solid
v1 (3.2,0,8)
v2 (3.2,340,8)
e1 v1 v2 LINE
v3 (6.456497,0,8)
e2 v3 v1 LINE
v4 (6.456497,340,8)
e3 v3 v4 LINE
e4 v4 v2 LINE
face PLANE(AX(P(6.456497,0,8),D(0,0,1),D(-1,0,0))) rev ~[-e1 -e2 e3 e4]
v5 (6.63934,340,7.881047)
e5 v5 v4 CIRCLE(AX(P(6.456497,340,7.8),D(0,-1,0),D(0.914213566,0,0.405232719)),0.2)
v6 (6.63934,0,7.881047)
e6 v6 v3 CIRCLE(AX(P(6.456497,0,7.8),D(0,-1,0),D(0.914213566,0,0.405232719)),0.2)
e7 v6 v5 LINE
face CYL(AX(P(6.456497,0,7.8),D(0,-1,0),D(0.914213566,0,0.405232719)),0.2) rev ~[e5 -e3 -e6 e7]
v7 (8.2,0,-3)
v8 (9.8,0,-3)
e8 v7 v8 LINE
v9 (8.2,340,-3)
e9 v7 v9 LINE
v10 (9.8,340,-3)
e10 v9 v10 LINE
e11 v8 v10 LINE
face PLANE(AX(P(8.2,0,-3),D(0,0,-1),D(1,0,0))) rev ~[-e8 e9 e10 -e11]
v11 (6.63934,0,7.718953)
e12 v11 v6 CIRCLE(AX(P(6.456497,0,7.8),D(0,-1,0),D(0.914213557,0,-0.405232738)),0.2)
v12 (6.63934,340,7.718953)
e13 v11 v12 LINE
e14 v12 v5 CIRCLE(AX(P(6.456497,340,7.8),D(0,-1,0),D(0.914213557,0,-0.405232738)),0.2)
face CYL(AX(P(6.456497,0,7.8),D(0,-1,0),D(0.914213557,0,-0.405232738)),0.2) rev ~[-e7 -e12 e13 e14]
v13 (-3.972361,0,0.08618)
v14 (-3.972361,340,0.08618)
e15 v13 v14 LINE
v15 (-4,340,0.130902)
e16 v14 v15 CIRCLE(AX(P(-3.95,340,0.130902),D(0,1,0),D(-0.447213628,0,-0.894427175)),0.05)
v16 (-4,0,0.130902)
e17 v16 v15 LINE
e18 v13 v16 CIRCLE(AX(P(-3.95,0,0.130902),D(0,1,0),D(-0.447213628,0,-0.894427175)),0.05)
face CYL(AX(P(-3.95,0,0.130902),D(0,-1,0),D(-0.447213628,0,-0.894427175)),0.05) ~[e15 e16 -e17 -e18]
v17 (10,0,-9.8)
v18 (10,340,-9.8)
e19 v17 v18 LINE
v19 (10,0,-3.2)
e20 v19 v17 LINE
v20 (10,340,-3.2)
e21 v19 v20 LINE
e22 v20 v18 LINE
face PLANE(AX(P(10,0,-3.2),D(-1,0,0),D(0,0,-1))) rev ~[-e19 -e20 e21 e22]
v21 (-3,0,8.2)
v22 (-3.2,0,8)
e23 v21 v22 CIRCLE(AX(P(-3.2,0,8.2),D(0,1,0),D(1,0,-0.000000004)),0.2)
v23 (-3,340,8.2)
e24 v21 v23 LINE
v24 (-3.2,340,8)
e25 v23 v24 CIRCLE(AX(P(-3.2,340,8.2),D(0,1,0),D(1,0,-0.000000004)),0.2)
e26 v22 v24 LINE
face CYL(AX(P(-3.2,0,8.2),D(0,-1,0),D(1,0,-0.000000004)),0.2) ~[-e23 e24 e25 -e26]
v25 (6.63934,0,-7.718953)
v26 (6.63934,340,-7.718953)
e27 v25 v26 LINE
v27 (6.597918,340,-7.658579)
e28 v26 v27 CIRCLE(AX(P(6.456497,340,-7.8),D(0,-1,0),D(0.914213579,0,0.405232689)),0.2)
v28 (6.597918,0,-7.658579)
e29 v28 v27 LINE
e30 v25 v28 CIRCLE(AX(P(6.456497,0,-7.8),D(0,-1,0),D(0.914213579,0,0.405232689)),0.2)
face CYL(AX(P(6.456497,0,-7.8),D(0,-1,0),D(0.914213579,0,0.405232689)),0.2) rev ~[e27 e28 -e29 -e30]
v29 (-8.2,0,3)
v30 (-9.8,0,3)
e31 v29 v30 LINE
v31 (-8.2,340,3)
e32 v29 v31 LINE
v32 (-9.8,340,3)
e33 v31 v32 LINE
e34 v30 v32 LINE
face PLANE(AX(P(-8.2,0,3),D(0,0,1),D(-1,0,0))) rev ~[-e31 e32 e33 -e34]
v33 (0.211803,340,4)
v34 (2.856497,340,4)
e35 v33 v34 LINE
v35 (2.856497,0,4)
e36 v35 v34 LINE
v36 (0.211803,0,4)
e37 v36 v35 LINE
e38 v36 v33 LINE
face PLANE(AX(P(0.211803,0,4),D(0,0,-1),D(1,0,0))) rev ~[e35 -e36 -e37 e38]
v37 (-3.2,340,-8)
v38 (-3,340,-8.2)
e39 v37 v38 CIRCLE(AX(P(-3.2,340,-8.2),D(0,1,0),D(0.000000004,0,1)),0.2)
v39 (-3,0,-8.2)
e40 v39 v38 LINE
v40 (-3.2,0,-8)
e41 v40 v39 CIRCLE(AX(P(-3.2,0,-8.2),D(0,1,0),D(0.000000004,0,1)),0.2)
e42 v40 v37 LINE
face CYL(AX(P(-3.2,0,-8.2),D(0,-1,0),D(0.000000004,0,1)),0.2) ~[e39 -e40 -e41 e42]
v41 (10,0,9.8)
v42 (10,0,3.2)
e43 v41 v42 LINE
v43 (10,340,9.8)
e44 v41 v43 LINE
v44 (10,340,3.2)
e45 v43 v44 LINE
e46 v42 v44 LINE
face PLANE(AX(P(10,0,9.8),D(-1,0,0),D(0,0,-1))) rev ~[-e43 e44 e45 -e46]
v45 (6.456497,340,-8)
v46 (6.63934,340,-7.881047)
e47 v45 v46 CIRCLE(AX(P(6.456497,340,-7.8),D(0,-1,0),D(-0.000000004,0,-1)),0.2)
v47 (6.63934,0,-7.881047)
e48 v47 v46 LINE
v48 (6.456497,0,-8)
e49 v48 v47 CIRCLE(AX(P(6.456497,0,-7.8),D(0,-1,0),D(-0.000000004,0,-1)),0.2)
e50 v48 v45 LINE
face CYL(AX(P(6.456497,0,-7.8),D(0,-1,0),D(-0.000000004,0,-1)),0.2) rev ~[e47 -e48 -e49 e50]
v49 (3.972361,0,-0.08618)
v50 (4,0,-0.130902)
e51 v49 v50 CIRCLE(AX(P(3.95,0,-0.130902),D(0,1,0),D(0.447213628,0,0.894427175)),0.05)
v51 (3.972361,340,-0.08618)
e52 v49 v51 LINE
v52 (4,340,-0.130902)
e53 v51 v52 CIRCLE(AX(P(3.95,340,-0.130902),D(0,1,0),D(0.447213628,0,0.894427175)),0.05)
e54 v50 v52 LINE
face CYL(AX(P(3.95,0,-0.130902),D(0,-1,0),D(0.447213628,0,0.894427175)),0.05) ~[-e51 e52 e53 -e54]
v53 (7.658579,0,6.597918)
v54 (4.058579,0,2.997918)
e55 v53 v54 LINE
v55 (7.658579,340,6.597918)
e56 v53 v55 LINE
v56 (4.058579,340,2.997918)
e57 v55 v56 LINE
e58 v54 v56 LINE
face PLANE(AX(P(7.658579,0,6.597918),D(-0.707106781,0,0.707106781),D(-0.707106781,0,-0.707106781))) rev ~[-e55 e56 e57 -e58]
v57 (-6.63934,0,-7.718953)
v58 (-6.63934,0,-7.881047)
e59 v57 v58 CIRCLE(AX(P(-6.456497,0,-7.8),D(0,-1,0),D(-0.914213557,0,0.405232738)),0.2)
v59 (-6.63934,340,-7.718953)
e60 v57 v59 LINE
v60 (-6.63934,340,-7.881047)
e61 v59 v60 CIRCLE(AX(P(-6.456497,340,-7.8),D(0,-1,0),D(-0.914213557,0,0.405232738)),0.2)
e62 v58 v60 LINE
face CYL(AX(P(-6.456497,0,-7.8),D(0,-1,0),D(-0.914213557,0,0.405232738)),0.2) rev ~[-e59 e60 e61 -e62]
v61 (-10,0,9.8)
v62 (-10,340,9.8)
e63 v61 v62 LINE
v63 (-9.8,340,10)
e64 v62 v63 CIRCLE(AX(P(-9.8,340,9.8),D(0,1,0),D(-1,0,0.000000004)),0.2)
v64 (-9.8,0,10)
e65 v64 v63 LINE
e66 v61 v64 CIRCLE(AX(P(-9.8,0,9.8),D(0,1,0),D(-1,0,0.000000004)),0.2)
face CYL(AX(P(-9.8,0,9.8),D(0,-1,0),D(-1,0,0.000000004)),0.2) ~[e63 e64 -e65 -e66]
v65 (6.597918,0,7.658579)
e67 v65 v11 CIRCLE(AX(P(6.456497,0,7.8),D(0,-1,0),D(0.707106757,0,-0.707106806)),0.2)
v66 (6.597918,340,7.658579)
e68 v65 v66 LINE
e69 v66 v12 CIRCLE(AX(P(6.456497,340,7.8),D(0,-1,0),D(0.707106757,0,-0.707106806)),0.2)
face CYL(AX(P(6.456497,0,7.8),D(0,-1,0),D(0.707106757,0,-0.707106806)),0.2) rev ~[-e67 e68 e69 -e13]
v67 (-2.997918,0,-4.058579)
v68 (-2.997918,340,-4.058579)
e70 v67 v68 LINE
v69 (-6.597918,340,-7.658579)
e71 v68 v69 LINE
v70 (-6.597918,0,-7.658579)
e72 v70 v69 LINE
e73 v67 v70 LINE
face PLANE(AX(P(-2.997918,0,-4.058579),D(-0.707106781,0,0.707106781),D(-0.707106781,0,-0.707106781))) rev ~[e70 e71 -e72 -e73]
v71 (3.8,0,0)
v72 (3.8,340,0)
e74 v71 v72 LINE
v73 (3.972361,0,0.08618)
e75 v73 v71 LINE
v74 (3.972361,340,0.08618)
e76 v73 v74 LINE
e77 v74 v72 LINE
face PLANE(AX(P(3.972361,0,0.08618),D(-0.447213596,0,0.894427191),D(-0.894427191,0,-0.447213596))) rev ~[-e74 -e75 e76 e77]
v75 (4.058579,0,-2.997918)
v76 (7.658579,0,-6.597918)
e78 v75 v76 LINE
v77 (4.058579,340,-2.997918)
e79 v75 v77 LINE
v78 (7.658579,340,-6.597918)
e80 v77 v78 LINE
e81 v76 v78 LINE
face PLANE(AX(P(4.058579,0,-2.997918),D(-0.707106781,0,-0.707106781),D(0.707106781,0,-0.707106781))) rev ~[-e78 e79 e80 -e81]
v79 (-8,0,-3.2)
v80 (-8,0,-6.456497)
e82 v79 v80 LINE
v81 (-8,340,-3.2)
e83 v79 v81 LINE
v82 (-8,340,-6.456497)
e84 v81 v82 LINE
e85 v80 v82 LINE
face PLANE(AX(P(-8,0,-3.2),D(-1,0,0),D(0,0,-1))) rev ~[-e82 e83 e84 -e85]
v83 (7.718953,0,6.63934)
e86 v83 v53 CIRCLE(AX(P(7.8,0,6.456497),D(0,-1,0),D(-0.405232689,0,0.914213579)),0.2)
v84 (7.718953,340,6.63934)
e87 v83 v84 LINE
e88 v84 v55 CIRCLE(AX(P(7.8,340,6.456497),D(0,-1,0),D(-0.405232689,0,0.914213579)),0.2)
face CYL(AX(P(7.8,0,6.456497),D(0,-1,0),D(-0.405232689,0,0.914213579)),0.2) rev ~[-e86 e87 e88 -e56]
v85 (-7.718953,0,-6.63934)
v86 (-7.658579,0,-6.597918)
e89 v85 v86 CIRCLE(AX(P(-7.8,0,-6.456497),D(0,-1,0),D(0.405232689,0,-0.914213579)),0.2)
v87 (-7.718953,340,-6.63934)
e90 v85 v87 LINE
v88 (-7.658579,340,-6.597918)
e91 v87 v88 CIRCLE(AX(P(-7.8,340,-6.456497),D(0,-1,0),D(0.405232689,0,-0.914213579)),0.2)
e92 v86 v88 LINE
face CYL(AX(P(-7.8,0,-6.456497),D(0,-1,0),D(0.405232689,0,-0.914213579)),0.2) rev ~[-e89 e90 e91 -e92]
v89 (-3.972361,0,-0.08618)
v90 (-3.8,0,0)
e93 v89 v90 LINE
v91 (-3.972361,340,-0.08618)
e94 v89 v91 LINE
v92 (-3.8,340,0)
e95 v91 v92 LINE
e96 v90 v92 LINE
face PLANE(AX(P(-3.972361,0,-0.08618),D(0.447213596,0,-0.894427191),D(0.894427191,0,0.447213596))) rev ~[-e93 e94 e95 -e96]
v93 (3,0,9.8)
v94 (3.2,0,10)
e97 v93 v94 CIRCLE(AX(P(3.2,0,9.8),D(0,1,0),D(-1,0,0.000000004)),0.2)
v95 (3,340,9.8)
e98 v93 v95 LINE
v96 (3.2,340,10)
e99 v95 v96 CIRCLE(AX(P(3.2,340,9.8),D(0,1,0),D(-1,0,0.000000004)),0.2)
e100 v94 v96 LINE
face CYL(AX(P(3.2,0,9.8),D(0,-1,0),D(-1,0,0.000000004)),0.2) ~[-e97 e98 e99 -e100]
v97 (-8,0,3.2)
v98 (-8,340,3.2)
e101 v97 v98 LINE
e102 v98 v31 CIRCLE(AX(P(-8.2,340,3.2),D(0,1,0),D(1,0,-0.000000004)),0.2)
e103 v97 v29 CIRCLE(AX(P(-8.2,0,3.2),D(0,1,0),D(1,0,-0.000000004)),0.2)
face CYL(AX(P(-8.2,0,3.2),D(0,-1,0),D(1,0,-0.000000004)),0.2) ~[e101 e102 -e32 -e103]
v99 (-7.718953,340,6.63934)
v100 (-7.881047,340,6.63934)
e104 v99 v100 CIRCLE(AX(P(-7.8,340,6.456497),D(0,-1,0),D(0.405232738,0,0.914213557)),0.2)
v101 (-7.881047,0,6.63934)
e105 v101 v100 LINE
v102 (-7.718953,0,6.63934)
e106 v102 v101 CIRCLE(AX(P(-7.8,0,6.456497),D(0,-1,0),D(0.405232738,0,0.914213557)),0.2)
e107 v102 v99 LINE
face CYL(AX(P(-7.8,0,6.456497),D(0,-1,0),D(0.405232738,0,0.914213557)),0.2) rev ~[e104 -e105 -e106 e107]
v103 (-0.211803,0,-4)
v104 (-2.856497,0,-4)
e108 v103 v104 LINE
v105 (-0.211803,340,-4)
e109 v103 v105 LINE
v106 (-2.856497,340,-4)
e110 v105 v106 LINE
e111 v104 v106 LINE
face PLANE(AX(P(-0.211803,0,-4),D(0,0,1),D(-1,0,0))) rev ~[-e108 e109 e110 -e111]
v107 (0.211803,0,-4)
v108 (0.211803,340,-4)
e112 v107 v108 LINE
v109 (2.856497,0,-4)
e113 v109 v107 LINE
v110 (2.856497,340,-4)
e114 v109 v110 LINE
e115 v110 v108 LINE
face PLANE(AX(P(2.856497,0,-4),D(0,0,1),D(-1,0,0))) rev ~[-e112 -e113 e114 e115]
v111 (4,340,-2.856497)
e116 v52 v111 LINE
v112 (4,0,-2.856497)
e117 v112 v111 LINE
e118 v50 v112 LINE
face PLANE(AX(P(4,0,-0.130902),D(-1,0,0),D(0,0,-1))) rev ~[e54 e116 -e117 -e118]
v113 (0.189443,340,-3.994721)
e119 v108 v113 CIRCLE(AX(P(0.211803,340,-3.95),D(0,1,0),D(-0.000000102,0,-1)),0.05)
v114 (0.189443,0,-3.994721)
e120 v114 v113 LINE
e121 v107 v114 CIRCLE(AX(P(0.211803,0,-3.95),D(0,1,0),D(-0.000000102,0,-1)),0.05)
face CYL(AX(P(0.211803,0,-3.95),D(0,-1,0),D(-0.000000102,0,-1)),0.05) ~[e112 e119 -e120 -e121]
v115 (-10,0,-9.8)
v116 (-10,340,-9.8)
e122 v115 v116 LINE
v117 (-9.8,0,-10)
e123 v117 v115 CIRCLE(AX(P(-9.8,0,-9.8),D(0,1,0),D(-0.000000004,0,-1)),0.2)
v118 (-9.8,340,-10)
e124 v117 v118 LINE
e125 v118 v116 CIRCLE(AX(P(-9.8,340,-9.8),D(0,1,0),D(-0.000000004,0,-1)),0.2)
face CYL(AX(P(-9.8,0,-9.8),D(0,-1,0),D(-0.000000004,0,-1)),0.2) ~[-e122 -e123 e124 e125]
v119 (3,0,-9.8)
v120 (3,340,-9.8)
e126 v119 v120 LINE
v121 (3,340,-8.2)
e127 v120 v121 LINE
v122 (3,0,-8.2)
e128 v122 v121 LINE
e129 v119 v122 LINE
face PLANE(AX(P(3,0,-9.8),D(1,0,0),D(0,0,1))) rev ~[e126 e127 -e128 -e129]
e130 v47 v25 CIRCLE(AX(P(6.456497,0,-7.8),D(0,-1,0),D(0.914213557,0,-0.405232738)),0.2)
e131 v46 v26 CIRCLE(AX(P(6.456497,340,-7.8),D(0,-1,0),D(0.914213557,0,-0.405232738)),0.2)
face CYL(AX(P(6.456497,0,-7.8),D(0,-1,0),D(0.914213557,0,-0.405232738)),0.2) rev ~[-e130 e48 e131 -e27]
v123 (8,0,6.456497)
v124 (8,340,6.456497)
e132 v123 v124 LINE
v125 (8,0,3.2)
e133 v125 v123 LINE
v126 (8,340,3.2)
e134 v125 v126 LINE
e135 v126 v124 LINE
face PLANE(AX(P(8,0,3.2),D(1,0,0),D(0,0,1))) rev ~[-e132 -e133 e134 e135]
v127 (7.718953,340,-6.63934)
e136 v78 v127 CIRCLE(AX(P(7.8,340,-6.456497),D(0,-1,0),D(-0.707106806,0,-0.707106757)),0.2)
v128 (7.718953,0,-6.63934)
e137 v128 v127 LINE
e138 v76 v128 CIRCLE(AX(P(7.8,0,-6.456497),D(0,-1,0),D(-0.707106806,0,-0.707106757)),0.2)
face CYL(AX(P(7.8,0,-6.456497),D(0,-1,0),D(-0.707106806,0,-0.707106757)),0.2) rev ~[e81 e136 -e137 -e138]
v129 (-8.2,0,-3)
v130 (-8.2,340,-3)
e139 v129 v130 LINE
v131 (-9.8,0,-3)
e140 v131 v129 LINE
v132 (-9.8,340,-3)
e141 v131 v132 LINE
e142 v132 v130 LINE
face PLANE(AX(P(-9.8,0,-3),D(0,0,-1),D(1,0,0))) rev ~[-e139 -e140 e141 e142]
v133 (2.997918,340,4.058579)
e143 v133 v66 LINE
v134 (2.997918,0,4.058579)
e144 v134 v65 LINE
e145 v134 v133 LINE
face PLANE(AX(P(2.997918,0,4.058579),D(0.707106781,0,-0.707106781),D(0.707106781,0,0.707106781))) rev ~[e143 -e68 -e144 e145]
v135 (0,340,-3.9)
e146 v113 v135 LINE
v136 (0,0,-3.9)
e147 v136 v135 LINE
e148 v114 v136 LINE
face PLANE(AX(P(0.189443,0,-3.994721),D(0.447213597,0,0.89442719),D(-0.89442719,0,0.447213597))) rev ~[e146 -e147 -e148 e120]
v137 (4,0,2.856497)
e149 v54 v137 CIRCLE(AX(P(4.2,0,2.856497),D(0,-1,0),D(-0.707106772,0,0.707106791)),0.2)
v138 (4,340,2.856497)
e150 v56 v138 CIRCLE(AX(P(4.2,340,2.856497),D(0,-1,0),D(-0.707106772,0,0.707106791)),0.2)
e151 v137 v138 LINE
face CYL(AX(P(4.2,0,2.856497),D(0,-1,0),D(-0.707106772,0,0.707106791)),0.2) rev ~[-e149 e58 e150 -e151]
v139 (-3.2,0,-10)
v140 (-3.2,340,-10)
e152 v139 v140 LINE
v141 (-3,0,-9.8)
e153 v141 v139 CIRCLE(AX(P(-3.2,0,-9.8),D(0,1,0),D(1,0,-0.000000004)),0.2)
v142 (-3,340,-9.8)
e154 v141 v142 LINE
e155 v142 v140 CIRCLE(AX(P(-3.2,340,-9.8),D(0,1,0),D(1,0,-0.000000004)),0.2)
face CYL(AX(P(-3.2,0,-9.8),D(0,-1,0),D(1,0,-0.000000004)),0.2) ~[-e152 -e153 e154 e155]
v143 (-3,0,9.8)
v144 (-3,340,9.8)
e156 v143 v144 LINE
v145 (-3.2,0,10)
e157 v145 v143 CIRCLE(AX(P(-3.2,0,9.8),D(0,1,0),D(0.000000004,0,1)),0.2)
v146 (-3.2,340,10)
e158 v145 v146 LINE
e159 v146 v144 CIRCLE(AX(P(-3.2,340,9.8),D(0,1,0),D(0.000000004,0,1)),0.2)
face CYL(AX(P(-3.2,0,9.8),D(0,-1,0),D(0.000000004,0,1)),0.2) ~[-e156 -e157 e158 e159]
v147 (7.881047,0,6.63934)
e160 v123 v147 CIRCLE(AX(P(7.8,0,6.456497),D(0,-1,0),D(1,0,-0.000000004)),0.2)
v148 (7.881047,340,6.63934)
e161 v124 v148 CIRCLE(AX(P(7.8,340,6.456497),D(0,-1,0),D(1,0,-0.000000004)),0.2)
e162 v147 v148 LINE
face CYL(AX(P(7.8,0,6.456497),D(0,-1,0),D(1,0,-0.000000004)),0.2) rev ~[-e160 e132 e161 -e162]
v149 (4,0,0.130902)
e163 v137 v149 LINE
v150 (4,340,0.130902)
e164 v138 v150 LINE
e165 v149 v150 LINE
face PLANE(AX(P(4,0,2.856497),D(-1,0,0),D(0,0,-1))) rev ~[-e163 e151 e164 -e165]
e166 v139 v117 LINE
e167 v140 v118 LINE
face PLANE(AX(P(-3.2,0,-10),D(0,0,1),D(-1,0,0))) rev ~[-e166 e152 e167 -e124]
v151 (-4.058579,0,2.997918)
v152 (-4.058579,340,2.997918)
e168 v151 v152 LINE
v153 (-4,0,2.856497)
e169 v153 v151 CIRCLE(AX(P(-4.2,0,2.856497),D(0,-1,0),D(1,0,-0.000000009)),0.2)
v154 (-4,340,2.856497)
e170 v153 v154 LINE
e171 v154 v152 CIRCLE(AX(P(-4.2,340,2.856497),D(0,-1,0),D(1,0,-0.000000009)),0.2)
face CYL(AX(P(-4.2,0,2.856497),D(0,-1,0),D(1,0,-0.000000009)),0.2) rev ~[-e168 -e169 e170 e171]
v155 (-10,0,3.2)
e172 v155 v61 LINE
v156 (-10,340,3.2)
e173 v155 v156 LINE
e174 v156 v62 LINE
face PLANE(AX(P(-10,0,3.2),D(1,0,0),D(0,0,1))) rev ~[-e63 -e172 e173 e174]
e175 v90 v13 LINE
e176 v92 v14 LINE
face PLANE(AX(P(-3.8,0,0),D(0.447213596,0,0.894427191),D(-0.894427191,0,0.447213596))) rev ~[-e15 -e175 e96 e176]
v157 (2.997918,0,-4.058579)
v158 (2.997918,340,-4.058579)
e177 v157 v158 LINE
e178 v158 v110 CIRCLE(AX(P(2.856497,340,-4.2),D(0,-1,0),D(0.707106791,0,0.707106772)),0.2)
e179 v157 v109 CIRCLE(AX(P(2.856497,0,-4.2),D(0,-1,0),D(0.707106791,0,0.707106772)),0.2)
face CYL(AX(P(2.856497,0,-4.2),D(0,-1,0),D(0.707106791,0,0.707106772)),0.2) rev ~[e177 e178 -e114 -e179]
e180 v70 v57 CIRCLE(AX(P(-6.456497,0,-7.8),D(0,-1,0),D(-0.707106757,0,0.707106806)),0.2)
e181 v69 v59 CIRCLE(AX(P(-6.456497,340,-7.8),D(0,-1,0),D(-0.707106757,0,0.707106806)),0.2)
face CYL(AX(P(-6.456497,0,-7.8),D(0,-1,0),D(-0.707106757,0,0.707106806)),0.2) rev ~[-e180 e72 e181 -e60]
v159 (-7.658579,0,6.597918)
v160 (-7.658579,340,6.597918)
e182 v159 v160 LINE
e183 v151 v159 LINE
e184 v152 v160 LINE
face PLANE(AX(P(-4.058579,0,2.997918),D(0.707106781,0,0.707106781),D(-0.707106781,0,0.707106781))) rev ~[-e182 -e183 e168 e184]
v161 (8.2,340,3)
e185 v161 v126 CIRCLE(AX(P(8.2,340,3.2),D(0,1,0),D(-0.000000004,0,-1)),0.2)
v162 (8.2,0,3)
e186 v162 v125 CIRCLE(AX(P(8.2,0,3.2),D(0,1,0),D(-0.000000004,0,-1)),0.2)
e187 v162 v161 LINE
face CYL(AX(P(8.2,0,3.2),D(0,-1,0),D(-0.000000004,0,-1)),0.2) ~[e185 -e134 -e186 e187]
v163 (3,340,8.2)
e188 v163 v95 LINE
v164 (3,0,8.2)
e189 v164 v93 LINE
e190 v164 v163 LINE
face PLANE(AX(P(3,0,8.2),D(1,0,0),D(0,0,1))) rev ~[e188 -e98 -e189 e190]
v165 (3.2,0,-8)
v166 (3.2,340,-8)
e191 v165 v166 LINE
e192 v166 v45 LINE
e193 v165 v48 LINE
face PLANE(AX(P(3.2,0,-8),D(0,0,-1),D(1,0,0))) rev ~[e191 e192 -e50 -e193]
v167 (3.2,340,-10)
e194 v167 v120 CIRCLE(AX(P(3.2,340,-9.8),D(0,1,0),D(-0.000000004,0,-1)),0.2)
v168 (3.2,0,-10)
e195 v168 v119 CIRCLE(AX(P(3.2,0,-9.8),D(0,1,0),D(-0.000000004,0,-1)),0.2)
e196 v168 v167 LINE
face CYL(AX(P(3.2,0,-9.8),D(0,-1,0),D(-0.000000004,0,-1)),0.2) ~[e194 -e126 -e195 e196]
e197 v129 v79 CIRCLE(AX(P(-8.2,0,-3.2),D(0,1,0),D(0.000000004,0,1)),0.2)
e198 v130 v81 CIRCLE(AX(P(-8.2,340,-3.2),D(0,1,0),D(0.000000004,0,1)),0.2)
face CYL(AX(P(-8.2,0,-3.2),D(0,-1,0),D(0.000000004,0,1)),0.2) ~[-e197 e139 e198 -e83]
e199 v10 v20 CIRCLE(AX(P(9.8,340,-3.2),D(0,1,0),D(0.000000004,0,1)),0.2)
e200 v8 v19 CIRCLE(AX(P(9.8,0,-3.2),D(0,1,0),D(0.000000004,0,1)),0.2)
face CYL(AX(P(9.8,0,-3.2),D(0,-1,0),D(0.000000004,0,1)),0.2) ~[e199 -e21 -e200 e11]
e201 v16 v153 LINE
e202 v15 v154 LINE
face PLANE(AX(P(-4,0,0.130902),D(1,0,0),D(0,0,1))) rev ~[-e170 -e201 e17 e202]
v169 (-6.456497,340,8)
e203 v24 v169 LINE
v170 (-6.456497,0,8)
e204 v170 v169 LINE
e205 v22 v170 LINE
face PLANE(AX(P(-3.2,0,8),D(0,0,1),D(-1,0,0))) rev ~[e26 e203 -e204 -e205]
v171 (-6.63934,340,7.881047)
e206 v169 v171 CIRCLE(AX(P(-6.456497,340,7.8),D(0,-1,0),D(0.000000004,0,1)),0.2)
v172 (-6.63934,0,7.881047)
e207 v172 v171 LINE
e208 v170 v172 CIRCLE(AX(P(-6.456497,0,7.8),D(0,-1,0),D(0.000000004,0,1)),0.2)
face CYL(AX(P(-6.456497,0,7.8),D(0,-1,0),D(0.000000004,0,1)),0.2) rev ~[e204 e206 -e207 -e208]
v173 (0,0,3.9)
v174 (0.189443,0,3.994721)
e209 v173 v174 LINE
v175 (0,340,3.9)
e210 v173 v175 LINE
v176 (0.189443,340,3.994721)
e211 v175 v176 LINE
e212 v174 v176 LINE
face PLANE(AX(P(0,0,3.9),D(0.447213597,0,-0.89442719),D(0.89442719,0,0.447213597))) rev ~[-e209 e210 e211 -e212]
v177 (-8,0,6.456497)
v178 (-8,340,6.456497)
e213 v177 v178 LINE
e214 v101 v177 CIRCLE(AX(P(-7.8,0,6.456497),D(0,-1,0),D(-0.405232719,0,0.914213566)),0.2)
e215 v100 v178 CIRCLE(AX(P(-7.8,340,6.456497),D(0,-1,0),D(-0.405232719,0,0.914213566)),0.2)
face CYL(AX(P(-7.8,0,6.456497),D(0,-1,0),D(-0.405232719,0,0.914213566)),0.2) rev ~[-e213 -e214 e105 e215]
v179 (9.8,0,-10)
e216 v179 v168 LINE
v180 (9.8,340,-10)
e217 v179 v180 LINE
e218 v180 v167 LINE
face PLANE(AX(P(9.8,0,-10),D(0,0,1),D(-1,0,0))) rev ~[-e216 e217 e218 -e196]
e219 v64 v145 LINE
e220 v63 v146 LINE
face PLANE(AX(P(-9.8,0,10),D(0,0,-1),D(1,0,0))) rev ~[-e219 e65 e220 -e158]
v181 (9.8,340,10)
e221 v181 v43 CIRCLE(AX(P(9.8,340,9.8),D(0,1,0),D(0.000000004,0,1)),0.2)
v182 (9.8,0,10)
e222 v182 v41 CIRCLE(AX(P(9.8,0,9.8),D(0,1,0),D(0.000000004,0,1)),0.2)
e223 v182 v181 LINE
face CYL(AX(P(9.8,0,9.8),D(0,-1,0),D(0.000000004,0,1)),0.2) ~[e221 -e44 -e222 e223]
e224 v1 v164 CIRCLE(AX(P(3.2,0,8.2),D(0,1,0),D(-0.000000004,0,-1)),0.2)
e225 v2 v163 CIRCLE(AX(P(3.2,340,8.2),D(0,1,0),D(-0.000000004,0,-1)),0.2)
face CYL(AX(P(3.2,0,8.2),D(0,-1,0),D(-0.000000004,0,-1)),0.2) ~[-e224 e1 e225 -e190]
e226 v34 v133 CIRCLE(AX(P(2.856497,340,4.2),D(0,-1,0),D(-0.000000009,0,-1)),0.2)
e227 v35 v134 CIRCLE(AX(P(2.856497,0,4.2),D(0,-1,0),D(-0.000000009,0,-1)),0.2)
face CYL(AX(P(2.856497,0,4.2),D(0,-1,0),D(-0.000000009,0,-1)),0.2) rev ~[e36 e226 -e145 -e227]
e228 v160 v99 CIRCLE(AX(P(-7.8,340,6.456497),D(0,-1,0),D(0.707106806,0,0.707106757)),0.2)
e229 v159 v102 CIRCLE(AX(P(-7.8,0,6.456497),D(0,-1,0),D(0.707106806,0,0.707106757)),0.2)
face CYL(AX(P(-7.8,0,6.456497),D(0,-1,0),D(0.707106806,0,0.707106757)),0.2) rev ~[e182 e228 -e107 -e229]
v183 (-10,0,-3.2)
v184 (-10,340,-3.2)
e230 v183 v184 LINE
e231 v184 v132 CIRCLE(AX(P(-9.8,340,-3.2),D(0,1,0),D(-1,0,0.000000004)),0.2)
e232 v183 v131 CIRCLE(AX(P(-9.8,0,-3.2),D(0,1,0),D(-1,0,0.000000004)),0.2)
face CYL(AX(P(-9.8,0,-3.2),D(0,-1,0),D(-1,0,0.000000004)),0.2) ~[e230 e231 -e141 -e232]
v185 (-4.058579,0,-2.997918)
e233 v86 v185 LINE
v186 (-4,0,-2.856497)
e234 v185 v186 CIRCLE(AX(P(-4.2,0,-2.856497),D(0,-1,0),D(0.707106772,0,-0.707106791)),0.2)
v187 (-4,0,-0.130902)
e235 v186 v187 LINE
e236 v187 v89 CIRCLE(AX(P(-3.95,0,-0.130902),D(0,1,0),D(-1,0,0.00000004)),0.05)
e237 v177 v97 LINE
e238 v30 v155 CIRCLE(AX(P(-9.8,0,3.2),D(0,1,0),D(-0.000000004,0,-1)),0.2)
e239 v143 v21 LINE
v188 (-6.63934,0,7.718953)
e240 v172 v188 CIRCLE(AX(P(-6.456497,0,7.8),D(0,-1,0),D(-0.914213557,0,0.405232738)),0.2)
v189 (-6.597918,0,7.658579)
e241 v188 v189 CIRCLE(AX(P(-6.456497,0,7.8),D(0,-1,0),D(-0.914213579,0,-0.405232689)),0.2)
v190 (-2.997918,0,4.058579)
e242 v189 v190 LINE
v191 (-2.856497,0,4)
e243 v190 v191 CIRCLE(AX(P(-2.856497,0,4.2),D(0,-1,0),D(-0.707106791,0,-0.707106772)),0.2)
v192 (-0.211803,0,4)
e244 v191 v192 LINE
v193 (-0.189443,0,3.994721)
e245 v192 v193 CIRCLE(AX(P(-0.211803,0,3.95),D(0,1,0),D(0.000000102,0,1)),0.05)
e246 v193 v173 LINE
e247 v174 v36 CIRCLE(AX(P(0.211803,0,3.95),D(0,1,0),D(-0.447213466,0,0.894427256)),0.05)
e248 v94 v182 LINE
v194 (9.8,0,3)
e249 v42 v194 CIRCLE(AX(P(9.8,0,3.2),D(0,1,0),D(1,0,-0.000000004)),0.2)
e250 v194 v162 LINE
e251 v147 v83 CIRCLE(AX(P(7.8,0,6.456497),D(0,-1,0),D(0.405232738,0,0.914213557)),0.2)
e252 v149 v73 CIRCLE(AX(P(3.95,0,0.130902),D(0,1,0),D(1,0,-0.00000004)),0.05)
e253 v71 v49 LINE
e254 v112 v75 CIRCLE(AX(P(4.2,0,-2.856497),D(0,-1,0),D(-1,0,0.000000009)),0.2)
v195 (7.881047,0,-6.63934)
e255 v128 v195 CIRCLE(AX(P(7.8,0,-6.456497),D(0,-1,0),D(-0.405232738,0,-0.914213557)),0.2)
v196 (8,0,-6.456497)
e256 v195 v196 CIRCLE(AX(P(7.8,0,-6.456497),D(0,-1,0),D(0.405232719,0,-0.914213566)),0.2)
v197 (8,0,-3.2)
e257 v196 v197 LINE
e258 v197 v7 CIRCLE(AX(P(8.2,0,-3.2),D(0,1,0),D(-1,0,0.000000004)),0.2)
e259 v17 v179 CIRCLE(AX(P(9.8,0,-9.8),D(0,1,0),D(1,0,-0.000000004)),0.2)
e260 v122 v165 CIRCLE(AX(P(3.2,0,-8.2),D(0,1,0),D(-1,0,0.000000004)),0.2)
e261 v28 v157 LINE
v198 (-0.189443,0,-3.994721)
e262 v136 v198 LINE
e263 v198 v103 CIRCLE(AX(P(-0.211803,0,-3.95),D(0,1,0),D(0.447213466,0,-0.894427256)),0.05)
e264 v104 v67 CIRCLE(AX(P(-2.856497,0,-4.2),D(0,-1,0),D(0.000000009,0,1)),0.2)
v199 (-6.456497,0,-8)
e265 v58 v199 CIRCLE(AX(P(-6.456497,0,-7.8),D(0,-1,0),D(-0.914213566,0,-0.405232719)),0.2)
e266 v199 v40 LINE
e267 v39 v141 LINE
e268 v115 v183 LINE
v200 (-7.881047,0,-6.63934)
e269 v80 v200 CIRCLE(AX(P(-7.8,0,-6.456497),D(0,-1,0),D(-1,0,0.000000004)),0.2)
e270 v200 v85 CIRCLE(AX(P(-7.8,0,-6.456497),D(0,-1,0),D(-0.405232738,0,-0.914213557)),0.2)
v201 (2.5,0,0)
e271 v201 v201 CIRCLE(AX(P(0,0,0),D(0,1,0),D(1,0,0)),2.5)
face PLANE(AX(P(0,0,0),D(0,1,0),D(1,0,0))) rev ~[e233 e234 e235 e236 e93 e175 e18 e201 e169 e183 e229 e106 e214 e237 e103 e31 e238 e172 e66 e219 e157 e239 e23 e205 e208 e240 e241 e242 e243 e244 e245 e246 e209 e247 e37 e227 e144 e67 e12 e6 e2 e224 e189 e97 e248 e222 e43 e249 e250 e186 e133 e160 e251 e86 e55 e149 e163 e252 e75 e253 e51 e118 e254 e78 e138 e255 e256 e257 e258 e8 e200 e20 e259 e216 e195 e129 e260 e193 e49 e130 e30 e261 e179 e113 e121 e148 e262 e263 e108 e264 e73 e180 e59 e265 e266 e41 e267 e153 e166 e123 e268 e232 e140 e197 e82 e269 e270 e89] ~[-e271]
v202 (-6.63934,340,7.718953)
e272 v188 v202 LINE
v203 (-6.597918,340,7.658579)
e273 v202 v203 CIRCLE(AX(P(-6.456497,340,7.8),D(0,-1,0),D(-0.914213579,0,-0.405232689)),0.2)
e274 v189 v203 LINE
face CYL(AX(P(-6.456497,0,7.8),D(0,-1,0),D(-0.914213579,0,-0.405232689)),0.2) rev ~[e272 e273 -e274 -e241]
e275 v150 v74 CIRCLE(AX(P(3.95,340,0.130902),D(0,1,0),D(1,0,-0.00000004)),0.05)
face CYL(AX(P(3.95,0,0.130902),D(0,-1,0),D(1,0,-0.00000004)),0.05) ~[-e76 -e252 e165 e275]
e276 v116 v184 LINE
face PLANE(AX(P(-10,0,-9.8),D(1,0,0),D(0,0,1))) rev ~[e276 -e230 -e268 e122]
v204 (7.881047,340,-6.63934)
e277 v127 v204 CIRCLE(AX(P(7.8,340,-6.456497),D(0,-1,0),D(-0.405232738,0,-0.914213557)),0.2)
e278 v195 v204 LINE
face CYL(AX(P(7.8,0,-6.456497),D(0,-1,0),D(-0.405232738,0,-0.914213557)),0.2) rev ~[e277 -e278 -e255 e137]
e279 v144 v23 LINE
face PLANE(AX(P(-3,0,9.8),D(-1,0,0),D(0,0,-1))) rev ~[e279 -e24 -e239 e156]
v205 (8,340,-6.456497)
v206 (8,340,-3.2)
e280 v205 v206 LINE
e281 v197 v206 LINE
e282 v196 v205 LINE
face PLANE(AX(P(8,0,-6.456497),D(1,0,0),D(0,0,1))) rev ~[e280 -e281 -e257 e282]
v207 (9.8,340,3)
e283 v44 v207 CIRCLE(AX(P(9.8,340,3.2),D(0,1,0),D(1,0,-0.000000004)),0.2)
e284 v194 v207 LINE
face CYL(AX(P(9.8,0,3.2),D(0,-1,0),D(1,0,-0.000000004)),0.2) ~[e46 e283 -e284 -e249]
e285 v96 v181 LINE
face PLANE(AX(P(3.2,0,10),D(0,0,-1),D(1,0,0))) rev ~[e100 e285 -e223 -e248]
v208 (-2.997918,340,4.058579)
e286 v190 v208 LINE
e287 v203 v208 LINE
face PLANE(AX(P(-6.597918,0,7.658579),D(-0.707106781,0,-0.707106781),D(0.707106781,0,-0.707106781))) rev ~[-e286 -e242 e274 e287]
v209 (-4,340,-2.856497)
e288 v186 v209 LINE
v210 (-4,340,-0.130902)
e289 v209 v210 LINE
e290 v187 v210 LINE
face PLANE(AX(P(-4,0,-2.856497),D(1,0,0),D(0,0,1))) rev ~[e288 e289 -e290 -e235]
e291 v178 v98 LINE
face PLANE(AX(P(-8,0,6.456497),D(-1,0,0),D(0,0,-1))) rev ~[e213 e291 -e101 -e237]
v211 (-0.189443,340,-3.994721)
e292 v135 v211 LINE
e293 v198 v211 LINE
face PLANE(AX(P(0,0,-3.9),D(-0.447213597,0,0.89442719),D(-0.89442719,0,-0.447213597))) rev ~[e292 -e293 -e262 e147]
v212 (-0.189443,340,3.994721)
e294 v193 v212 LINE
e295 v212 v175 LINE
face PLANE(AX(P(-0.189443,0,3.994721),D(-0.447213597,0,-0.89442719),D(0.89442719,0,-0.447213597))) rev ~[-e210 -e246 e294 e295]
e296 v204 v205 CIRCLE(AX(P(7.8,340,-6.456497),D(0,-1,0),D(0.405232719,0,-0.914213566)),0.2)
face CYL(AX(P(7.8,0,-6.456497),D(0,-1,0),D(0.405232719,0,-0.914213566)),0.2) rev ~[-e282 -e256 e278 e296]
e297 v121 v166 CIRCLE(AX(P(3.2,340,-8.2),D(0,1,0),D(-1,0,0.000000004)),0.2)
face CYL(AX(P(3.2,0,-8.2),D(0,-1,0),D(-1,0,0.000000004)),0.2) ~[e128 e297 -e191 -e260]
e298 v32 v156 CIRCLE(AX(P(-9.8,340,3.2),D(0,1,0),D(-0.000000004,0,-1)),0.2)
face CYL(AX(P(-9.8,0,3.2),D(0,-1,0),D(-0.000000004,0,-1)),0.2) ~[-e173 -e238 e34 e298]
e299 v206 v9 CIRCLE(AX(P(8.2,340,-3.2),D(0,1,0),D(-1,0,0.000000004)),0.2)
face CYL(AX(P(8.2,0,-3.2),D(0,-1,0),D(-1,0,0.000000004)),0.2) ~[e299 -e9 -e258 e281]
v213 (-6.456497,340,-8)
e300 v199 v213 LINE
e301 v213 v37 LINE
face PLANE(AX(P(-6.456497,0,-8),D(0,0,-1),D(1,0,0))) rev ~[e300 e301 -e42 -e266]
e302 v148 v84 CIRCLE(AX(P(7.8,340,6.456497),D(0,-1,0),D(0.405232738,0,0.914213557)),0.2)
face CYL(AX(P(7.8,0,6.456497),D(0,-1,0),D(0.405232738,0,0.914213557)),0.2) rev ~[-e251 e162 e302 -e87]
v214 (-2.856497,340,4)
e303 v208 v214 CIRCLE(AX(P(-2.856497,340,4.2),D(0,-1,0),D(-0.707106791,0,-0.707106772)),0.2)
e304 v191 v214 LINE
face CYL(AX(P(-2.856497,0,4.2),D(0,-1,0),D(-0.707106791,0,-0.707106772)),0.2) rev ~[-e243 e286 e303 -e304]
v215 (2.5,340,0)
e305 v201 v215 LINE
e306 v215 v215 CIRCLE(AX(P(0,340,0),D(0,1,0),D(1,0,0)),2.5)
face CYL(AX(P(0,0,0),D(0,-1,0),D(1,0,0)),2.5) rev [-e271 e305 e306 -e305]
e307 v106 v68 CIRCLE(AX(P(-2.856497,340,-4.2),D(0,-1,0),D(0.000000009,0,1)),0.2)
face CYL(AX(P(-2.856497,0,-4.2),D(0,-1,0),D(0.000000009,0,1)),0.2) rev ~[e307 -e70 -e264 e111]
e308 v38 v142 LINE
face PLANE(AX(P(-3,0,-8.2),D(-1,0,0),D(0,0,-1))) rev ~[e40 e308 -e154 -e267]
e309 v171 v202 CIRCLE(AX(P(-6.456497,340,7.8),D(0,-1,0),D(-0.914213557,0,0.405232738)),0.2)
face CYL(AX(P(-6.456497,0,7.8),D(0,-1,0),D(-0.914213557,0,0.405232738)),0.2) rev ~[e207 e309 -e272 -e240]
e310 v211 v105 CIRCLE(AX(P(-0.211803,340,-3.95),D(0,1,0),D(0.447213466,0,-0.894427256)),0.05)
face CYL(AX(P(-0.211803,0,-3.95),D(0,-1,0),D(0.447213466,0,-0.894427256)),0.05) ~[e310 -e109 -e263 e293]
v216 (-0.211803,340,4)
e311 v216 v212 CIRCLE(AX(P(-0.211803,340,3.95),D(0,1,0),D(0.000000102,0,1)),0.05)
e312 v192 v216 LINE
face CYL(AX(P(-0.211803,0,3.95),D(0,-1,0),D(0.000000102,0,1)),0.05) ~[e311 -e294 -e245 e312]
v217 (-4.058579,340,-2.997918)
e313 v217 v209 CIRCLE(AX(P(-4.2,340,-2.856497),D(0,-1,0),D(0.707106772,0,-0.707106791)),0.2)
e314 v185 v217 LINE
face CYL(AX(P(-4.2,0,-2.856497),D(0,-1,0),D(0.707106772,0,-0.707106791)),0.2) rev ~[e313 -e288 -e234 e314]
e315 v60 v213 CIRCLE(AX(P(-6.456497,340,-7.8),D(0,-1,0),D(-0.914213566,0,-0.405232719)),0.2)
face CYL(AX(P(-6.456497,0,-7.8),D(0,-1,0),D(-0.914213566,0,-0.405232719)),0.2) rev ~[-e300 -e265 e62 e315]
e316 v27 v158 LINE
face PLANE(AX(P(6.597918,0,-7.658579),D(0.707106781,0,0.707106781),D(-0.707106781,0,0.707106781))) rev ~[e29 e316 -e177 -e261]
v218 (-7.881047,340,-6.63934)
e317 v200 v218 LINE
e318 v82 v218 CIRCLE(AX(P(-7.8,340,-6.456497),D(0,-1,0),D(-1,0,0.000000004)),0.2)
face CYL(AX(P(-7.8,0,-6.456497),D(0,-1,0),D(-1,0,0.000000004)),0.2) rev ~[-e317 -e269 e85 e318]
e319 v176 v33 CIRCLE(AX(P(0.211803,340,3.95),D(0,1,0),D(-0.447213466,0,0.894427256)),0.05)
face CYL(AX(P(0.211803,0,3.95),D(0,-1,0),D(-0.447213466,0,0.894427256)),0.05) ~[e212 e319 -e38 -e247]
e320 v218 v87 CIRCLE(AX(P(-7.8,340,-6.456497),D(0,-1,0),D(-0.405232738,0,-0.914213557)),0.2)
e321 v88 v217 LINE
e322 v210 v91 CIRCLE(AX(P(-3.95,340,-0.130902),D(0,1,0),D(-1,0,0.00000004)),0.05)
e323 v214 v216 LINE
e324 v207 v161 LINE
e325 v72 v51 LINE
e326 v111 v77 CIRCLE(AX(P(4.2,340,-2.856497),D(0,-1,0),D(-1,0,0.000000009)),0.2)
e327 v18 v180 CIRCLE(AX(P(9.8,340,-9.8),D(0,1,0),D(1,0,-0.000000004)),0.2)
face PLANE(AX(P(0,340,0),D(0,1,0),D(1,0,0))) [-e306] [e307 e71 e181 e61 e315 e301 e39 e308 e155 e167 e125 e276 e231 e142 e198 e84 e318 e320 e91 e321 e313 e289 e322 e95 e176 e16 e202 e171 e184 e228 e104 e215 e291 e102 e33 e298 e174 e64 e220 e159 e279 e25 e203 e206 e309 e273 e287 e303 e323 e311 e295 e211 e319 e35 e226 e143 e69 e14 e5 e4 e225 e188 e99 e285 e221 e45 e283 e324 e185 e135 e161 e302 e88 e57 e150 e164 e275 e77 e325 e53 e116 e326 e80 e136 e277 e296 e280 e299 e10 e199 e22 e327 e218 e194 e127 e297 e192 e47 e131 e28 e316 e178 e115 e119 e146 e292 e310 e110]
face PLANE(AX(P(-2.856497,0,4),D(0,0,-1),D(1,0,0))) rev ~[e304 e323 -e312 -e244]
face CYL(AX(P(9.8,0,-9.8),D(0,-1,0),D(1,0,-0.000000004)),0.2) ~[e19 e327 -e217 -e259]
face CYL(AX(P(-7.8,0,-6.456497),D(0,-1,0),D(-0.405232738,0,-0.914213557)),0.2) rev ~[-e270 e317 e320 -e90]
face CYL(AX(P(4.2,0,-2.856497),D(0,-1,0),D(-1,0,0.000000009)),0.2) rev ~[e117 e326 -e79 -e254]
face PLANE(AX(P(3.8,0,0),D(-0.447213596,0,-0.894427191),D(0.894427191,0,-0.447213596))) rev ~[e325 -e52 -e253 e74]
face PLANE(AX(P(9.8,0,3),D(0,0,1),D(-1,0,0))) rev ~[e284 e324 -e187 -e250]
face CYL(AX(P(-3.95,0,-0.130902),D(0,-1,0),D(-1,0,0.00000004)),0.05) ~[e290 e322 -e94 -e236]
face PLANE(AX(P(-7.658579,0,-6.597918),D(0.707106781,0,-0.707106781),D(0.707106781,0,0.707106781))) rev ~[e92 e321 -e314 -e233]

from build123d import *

# Parameters (mm, degrees)
SKETCH1_R           = 2.5
BOSS_EXTRUDE1_DEPTH = 340


with BuildPart() as part:
    # Sketch1 → Boss-Extrude1 (new body)
    with BuildSketch(Plane(origin=(0, 0, 0), x_dir=(1, 0, 0), z_dir=(0, 1, 0))):
        with BuildLine():
            Line((-2.997918472, 4.058578644), (-6.597918472, 7.658578644))
            ThreePointArc((-6.597918472, 7.658578644), (-6.621415508, 7.686854412), (-6.639339828, 7.718953455))
            ThreePointArc((-6.639339828, 7.718953455), (-6.656497116, 7.8), (-6.639339828, 7.881046545))
            ThreePointArc((-6.639339828, 7.881046545), (-6.565562901, 7.967644429), (-6.456497116, 8))
            Line((-6.456497116, 8), (-3.2, 8))
            ThreePointArc((-3.2, 8), (-3.058578644, 8.058578644), (-3, 8.2))
            Line((-3, 8.2), (-3, 9.8))
            ThreePointArc((-3, 9.8), (-3.058578644, 9.941421356), (-3.2, 10))
            Line((-3.2, 10), (-9.8, 10))
            ThreePointArc((-9.8, 10), (-9.941421356, 9.941421356), (-10, 9.8))
            Line((-10, 9.8), (-10, 3.2))
            ThreePointArc((-10, 3.2), (-9.941421356, 3.058578644), (-9.8, 3))
            Line((-9.8, 3), (-8.2, 3))
            ThreePointArc((-8.2, 3), (-8.058578644, 3.058578644), (-8, 3.2))
            Line((-8, 3.2), (-8, 6.456497116))
            ThreePointArc((-8, 6.456497116), (-7.967644429, 6.565562901), (-7.881046545, 6.639339828))
            ThreePointArc((-7.881046545, 6.639339828), (-7.8, 6.656497116), (-7.718953455, 6.639339828))
            ThreePointArc((-7.718953455, 6.639339828), (-7.686854412, 6.621415508), (-7.658578644, 6.597918472))
            Line((-7.658578644, 6.597918472), (-4.058578644, 2.997918472))
            ThreePointArc((-4.058578644, 2.997918472), (-4.015224093, 2.933033802), (-4, 2.856497116))
            Line((-4, 2.856497116), (-4, 0.130901699))
            ThreePointArc((-4, 0.130901699), (-3.99253254, 0.104615144), (-3.97236068, 0.08618034))
            Line((-3.97236068, 0.08618034), (-3.8, 0))
            Line((-3.8, 0), (-3.97236068, -0.08618034))
            ThreePointArc((-3.97236068, -0.08618034), (-3.99253254, -0.104615144), (-4, -0.130901699))
            Line((-4, -0.130901699), (-4, -2.856497116))
            ThreePointArc((-4, -2.856497116), (-4.015224093, -2.933033802), (-4.058578644, -2.997918472))
            Line((-4.058578644, -2.997918472), (-7.658578644, -6.597918472))
            ThreePointArc((-7.658578644, -6.597918472), (-7.686854412, -6.621415508), (-7.718953455, -6.639339828))
            ThreePointArc((-7.718953455, -6.639339828), (-7.8, -6.656497116), (-7.881046545, -6.639339828))
            ThreePointArc((-7.881046545, -6.639339828), (-7.967644429, -6.565562901), (-8, -6.456497116))
            Line((-8, -6.456497116), (-8, -3.2))
            ThreePointArc((-8, -3.2), (-8.058578644, -3.058578644), (-8.2, -3))
            Line((-8.2, -3), (-9.8, -3))
            ThreePointArc((-9.8, -3), (-9.941421356, -3.058578644), (-10, -3.2))
            Line((-10, -3.2), (-10, -9.8))
            ThreePointArc((-10, -9.8), (-9.941421356, -9.941421356), (-9.8, -10))
            Line((-9.8, -10), (-3.2, -10))
            ThreePointArc((-3.2, -10), (-3.058578644, -9.941421356), (-3, -9.8))
            Line((-3, -9.8), (-3, -8.2))
            ThreePointArc((-3, -8.2), (-3.058578644, -8.058578644), (-3.2, -8))
            Line((-3.2, -8), (-6.456497116, -8))
            ThreePointArc((-6.456497116, -8), (-6.565562901, -7.967644429), (-6.639339828, -7.881046545))
            ThreePointArc((-6.639339828, -7.881046545), (-6.656497116, -7.8), (-6.639339828, -7.718953455))
            ThreePointArc((-6.639339828, -7.718953455), (-6.621415508, -7.686854412), (-6.597918472, -7.658578644))
            Line((-6.597918472, -7.658578644), (-2.997918472, -4.058578644))
            ThreePointArc((-2.997918472, -4.058578644), (-2.933033802, -4.015224093), (-2.856497116, -4))
            Line((-2.856497116, -4), (-0.211803399, -4))
            ThreePointArc((-0.211803399, -4), (-0.200315753, -3.998662449), (-0.189442719, -3.99472136))
            Line((-0.189442719, -3.99472136), (0, -3.9))
            Line((0, -3.9), (0.189442719, -3.99472136))
            ThreePointArc((0.189442719, -3.99472136), (0.200315753, -3.998662449), (0.211803399, -4))
            Line((0.211803399, -4), (2.856497116, -4))
            ThreePointArc((2.856497116, -4), (2.933033802, -4.015224093), (2.997918472, -4.058578644))
            Line((2.997918472, -4.058578644), (6.597918472, -7.658578644))
            ThreePointArc((6.597918472, -7.658578644), (6.621415508, -7.686854412), (6.639339828, -7.718953455))
            ThreePointArc((6.639339828, -7.718953455), (6.656497116, -7.8), (6.639339828, -7.881046545))
            ThreePointArc((6.639339828, -7.881046545), (6.565562901, -7.967644429), (6.456497116, -8))
            Line((6.456497116, -8), (3.2, -8))
            ThreePointArc((3.2, -8), (3.058578644, -8.058578644), (3, -8.2))
            Line((3, -8.2), (3, -9.8))
            ThreePointArc((3, -9.8), (3.058578644, -9.941421356), (3.2, -10))
            Line((3.2, -10), (9.8, -10))
            ThreePointArc((9.8, -10), (9.941421356, -9.941421356), (10, -9.8))
            Line((10, -9.8), (10, -3.2))
            ThreePointArc((10, -3.2), (9.941421356, -3.058578644), (9.8, -3))
            Line((9.8, -3), (8.2, -3))
            ThreePointArc((8.2, -3), (8.058578644, -3.058578644), (8, -3.2))
            Line((8, -3.2), (8, -6.456497116))
            ThreePointArc((8, -6.456497116), (7.967644429, -6.565562901), (7.881046545, -6.639339828))
            ThreePointArc((7.881046545, -6.639339828), (7.8, -6.656497116), (7.718953455, -6.639339828))
            ThreePointArc((7.718953455, -6.639339828), (7.686854412, -6.621415508), (7.658578644, -6.597918472))
            Line((7.658578644, -6.597918472), (4.058578644, -2.997918472))
            ThreePointArc((4.058578644, -2.997918472), (4.015224093, -2.933033802), (4, -2.856497116))
            Line((4, -2.856497116), (4, -0.130901699))
            ThreePointArc((4, -0.130901699), (3.99253254, -0.104615144), (3.97236068, -0.08618034))
            Line((3.97236068, -0.08618034), (3.8, 0))
            Line((3.8, 0), (3.97236068, 0.08618034))
            ThreePointArc((3.97236068, 0.08618034), (3.99253254, 0.104615144), (4, 0.130901699))
            Line((4, 0.130901699), (4, 2.856497116))
            ThreePointArc((4, 2.856497116), (4.015224093, 2.933033802), (4.058578644, 2.997918472))
            Line((4.058578644, 2.997918472), (7.658578644, 6.597918472))
            ThreePointArc((7.658578644, 6.597918472), (7.686854412, 6.621415508), (7.718953455, 6.639339828))
            ThreePointArc((7.718953455, 6.639339828), (7.8, 6.656497116), (7.881046545, 6.639339828))
            ThreePointArc((7.881046545, 6.639339828), (7.967644429, 6.565562901), (8, 6.456497116))
            Line((8, 6.456497116), (8, 3.2))
            ThreePointArc((8, 3.2), (8.058578644, 3.058578644), (8.2, 3))
            Line((8.2, 3), (9.8, 3))
            ThreePointArc((9.8, 3), (9.941421356, 3.058578644), (10, 3.2))
            Line((10, 3.2), (10, 9.8))
            ThreePointArc((10, 9.8), (9.941421356, 9.941421356), (9.8, 10))
            Line((9.8, 10), (3.2, 10))
            ThreePointArc((3.2, 10), (3.058578644, 9.941421356), (3, 9.8))
            Line((3, 9.8), (3, 8.2))
            ThreePointArc((3, 8.2), (3.058578644, 8.058578644), (3.2, 8))
            Line((3.2, 8), (6.456497116, 8))
            ThreePointArc((6.456497116, 8), (6.565562901, 7.967644429), (6.639339828, 7.881046545))
            ThreePointArc((6.639339828, 7.881046545), (6.656497116, 7.8), (6.639339828, 7.718953455))
            ThreePointArc((6.639339828, 7.718953455), (6.621415508, 7.686854412), (6.597918472, 7.658578644))
            Line((6.597918472, 7.658578644), (2.997918472, 4.058578644))
            ThreePointArc((2.997918472, 4.058578644), (2.933033802, 4.015224093), (2.856497116, 4))
            Line((2.856497116, 4), (0.211803399, 4))
            ThreePointArc((0.211803399, 4), (0.200315753, 3.998662449), (0.189442719, 3.99472136))
            Line((0.189442719, 3.99472136), (0, 3.9))
            Line((0, 3.9), (-0.189442719, 3.99472136))
            ThreePointArc((-0.189442719, 3.99472136), (-0.200315753, 3.998662449), (-0.211803399, 4))
            Line((-0.211803399, 4), (-2.856497116, 4))
            ThreePointArc((-2.856497116, 4), (-2.933033802, 4.015224093), (-2.997918472, 4.058578644))
        make_face()
        Circle(SKETCH1_R, mode=Mode.SUBTRACT)
    extrude(amount=BOSS_EXTRUDE1_DEPTH)


solid = part.part
